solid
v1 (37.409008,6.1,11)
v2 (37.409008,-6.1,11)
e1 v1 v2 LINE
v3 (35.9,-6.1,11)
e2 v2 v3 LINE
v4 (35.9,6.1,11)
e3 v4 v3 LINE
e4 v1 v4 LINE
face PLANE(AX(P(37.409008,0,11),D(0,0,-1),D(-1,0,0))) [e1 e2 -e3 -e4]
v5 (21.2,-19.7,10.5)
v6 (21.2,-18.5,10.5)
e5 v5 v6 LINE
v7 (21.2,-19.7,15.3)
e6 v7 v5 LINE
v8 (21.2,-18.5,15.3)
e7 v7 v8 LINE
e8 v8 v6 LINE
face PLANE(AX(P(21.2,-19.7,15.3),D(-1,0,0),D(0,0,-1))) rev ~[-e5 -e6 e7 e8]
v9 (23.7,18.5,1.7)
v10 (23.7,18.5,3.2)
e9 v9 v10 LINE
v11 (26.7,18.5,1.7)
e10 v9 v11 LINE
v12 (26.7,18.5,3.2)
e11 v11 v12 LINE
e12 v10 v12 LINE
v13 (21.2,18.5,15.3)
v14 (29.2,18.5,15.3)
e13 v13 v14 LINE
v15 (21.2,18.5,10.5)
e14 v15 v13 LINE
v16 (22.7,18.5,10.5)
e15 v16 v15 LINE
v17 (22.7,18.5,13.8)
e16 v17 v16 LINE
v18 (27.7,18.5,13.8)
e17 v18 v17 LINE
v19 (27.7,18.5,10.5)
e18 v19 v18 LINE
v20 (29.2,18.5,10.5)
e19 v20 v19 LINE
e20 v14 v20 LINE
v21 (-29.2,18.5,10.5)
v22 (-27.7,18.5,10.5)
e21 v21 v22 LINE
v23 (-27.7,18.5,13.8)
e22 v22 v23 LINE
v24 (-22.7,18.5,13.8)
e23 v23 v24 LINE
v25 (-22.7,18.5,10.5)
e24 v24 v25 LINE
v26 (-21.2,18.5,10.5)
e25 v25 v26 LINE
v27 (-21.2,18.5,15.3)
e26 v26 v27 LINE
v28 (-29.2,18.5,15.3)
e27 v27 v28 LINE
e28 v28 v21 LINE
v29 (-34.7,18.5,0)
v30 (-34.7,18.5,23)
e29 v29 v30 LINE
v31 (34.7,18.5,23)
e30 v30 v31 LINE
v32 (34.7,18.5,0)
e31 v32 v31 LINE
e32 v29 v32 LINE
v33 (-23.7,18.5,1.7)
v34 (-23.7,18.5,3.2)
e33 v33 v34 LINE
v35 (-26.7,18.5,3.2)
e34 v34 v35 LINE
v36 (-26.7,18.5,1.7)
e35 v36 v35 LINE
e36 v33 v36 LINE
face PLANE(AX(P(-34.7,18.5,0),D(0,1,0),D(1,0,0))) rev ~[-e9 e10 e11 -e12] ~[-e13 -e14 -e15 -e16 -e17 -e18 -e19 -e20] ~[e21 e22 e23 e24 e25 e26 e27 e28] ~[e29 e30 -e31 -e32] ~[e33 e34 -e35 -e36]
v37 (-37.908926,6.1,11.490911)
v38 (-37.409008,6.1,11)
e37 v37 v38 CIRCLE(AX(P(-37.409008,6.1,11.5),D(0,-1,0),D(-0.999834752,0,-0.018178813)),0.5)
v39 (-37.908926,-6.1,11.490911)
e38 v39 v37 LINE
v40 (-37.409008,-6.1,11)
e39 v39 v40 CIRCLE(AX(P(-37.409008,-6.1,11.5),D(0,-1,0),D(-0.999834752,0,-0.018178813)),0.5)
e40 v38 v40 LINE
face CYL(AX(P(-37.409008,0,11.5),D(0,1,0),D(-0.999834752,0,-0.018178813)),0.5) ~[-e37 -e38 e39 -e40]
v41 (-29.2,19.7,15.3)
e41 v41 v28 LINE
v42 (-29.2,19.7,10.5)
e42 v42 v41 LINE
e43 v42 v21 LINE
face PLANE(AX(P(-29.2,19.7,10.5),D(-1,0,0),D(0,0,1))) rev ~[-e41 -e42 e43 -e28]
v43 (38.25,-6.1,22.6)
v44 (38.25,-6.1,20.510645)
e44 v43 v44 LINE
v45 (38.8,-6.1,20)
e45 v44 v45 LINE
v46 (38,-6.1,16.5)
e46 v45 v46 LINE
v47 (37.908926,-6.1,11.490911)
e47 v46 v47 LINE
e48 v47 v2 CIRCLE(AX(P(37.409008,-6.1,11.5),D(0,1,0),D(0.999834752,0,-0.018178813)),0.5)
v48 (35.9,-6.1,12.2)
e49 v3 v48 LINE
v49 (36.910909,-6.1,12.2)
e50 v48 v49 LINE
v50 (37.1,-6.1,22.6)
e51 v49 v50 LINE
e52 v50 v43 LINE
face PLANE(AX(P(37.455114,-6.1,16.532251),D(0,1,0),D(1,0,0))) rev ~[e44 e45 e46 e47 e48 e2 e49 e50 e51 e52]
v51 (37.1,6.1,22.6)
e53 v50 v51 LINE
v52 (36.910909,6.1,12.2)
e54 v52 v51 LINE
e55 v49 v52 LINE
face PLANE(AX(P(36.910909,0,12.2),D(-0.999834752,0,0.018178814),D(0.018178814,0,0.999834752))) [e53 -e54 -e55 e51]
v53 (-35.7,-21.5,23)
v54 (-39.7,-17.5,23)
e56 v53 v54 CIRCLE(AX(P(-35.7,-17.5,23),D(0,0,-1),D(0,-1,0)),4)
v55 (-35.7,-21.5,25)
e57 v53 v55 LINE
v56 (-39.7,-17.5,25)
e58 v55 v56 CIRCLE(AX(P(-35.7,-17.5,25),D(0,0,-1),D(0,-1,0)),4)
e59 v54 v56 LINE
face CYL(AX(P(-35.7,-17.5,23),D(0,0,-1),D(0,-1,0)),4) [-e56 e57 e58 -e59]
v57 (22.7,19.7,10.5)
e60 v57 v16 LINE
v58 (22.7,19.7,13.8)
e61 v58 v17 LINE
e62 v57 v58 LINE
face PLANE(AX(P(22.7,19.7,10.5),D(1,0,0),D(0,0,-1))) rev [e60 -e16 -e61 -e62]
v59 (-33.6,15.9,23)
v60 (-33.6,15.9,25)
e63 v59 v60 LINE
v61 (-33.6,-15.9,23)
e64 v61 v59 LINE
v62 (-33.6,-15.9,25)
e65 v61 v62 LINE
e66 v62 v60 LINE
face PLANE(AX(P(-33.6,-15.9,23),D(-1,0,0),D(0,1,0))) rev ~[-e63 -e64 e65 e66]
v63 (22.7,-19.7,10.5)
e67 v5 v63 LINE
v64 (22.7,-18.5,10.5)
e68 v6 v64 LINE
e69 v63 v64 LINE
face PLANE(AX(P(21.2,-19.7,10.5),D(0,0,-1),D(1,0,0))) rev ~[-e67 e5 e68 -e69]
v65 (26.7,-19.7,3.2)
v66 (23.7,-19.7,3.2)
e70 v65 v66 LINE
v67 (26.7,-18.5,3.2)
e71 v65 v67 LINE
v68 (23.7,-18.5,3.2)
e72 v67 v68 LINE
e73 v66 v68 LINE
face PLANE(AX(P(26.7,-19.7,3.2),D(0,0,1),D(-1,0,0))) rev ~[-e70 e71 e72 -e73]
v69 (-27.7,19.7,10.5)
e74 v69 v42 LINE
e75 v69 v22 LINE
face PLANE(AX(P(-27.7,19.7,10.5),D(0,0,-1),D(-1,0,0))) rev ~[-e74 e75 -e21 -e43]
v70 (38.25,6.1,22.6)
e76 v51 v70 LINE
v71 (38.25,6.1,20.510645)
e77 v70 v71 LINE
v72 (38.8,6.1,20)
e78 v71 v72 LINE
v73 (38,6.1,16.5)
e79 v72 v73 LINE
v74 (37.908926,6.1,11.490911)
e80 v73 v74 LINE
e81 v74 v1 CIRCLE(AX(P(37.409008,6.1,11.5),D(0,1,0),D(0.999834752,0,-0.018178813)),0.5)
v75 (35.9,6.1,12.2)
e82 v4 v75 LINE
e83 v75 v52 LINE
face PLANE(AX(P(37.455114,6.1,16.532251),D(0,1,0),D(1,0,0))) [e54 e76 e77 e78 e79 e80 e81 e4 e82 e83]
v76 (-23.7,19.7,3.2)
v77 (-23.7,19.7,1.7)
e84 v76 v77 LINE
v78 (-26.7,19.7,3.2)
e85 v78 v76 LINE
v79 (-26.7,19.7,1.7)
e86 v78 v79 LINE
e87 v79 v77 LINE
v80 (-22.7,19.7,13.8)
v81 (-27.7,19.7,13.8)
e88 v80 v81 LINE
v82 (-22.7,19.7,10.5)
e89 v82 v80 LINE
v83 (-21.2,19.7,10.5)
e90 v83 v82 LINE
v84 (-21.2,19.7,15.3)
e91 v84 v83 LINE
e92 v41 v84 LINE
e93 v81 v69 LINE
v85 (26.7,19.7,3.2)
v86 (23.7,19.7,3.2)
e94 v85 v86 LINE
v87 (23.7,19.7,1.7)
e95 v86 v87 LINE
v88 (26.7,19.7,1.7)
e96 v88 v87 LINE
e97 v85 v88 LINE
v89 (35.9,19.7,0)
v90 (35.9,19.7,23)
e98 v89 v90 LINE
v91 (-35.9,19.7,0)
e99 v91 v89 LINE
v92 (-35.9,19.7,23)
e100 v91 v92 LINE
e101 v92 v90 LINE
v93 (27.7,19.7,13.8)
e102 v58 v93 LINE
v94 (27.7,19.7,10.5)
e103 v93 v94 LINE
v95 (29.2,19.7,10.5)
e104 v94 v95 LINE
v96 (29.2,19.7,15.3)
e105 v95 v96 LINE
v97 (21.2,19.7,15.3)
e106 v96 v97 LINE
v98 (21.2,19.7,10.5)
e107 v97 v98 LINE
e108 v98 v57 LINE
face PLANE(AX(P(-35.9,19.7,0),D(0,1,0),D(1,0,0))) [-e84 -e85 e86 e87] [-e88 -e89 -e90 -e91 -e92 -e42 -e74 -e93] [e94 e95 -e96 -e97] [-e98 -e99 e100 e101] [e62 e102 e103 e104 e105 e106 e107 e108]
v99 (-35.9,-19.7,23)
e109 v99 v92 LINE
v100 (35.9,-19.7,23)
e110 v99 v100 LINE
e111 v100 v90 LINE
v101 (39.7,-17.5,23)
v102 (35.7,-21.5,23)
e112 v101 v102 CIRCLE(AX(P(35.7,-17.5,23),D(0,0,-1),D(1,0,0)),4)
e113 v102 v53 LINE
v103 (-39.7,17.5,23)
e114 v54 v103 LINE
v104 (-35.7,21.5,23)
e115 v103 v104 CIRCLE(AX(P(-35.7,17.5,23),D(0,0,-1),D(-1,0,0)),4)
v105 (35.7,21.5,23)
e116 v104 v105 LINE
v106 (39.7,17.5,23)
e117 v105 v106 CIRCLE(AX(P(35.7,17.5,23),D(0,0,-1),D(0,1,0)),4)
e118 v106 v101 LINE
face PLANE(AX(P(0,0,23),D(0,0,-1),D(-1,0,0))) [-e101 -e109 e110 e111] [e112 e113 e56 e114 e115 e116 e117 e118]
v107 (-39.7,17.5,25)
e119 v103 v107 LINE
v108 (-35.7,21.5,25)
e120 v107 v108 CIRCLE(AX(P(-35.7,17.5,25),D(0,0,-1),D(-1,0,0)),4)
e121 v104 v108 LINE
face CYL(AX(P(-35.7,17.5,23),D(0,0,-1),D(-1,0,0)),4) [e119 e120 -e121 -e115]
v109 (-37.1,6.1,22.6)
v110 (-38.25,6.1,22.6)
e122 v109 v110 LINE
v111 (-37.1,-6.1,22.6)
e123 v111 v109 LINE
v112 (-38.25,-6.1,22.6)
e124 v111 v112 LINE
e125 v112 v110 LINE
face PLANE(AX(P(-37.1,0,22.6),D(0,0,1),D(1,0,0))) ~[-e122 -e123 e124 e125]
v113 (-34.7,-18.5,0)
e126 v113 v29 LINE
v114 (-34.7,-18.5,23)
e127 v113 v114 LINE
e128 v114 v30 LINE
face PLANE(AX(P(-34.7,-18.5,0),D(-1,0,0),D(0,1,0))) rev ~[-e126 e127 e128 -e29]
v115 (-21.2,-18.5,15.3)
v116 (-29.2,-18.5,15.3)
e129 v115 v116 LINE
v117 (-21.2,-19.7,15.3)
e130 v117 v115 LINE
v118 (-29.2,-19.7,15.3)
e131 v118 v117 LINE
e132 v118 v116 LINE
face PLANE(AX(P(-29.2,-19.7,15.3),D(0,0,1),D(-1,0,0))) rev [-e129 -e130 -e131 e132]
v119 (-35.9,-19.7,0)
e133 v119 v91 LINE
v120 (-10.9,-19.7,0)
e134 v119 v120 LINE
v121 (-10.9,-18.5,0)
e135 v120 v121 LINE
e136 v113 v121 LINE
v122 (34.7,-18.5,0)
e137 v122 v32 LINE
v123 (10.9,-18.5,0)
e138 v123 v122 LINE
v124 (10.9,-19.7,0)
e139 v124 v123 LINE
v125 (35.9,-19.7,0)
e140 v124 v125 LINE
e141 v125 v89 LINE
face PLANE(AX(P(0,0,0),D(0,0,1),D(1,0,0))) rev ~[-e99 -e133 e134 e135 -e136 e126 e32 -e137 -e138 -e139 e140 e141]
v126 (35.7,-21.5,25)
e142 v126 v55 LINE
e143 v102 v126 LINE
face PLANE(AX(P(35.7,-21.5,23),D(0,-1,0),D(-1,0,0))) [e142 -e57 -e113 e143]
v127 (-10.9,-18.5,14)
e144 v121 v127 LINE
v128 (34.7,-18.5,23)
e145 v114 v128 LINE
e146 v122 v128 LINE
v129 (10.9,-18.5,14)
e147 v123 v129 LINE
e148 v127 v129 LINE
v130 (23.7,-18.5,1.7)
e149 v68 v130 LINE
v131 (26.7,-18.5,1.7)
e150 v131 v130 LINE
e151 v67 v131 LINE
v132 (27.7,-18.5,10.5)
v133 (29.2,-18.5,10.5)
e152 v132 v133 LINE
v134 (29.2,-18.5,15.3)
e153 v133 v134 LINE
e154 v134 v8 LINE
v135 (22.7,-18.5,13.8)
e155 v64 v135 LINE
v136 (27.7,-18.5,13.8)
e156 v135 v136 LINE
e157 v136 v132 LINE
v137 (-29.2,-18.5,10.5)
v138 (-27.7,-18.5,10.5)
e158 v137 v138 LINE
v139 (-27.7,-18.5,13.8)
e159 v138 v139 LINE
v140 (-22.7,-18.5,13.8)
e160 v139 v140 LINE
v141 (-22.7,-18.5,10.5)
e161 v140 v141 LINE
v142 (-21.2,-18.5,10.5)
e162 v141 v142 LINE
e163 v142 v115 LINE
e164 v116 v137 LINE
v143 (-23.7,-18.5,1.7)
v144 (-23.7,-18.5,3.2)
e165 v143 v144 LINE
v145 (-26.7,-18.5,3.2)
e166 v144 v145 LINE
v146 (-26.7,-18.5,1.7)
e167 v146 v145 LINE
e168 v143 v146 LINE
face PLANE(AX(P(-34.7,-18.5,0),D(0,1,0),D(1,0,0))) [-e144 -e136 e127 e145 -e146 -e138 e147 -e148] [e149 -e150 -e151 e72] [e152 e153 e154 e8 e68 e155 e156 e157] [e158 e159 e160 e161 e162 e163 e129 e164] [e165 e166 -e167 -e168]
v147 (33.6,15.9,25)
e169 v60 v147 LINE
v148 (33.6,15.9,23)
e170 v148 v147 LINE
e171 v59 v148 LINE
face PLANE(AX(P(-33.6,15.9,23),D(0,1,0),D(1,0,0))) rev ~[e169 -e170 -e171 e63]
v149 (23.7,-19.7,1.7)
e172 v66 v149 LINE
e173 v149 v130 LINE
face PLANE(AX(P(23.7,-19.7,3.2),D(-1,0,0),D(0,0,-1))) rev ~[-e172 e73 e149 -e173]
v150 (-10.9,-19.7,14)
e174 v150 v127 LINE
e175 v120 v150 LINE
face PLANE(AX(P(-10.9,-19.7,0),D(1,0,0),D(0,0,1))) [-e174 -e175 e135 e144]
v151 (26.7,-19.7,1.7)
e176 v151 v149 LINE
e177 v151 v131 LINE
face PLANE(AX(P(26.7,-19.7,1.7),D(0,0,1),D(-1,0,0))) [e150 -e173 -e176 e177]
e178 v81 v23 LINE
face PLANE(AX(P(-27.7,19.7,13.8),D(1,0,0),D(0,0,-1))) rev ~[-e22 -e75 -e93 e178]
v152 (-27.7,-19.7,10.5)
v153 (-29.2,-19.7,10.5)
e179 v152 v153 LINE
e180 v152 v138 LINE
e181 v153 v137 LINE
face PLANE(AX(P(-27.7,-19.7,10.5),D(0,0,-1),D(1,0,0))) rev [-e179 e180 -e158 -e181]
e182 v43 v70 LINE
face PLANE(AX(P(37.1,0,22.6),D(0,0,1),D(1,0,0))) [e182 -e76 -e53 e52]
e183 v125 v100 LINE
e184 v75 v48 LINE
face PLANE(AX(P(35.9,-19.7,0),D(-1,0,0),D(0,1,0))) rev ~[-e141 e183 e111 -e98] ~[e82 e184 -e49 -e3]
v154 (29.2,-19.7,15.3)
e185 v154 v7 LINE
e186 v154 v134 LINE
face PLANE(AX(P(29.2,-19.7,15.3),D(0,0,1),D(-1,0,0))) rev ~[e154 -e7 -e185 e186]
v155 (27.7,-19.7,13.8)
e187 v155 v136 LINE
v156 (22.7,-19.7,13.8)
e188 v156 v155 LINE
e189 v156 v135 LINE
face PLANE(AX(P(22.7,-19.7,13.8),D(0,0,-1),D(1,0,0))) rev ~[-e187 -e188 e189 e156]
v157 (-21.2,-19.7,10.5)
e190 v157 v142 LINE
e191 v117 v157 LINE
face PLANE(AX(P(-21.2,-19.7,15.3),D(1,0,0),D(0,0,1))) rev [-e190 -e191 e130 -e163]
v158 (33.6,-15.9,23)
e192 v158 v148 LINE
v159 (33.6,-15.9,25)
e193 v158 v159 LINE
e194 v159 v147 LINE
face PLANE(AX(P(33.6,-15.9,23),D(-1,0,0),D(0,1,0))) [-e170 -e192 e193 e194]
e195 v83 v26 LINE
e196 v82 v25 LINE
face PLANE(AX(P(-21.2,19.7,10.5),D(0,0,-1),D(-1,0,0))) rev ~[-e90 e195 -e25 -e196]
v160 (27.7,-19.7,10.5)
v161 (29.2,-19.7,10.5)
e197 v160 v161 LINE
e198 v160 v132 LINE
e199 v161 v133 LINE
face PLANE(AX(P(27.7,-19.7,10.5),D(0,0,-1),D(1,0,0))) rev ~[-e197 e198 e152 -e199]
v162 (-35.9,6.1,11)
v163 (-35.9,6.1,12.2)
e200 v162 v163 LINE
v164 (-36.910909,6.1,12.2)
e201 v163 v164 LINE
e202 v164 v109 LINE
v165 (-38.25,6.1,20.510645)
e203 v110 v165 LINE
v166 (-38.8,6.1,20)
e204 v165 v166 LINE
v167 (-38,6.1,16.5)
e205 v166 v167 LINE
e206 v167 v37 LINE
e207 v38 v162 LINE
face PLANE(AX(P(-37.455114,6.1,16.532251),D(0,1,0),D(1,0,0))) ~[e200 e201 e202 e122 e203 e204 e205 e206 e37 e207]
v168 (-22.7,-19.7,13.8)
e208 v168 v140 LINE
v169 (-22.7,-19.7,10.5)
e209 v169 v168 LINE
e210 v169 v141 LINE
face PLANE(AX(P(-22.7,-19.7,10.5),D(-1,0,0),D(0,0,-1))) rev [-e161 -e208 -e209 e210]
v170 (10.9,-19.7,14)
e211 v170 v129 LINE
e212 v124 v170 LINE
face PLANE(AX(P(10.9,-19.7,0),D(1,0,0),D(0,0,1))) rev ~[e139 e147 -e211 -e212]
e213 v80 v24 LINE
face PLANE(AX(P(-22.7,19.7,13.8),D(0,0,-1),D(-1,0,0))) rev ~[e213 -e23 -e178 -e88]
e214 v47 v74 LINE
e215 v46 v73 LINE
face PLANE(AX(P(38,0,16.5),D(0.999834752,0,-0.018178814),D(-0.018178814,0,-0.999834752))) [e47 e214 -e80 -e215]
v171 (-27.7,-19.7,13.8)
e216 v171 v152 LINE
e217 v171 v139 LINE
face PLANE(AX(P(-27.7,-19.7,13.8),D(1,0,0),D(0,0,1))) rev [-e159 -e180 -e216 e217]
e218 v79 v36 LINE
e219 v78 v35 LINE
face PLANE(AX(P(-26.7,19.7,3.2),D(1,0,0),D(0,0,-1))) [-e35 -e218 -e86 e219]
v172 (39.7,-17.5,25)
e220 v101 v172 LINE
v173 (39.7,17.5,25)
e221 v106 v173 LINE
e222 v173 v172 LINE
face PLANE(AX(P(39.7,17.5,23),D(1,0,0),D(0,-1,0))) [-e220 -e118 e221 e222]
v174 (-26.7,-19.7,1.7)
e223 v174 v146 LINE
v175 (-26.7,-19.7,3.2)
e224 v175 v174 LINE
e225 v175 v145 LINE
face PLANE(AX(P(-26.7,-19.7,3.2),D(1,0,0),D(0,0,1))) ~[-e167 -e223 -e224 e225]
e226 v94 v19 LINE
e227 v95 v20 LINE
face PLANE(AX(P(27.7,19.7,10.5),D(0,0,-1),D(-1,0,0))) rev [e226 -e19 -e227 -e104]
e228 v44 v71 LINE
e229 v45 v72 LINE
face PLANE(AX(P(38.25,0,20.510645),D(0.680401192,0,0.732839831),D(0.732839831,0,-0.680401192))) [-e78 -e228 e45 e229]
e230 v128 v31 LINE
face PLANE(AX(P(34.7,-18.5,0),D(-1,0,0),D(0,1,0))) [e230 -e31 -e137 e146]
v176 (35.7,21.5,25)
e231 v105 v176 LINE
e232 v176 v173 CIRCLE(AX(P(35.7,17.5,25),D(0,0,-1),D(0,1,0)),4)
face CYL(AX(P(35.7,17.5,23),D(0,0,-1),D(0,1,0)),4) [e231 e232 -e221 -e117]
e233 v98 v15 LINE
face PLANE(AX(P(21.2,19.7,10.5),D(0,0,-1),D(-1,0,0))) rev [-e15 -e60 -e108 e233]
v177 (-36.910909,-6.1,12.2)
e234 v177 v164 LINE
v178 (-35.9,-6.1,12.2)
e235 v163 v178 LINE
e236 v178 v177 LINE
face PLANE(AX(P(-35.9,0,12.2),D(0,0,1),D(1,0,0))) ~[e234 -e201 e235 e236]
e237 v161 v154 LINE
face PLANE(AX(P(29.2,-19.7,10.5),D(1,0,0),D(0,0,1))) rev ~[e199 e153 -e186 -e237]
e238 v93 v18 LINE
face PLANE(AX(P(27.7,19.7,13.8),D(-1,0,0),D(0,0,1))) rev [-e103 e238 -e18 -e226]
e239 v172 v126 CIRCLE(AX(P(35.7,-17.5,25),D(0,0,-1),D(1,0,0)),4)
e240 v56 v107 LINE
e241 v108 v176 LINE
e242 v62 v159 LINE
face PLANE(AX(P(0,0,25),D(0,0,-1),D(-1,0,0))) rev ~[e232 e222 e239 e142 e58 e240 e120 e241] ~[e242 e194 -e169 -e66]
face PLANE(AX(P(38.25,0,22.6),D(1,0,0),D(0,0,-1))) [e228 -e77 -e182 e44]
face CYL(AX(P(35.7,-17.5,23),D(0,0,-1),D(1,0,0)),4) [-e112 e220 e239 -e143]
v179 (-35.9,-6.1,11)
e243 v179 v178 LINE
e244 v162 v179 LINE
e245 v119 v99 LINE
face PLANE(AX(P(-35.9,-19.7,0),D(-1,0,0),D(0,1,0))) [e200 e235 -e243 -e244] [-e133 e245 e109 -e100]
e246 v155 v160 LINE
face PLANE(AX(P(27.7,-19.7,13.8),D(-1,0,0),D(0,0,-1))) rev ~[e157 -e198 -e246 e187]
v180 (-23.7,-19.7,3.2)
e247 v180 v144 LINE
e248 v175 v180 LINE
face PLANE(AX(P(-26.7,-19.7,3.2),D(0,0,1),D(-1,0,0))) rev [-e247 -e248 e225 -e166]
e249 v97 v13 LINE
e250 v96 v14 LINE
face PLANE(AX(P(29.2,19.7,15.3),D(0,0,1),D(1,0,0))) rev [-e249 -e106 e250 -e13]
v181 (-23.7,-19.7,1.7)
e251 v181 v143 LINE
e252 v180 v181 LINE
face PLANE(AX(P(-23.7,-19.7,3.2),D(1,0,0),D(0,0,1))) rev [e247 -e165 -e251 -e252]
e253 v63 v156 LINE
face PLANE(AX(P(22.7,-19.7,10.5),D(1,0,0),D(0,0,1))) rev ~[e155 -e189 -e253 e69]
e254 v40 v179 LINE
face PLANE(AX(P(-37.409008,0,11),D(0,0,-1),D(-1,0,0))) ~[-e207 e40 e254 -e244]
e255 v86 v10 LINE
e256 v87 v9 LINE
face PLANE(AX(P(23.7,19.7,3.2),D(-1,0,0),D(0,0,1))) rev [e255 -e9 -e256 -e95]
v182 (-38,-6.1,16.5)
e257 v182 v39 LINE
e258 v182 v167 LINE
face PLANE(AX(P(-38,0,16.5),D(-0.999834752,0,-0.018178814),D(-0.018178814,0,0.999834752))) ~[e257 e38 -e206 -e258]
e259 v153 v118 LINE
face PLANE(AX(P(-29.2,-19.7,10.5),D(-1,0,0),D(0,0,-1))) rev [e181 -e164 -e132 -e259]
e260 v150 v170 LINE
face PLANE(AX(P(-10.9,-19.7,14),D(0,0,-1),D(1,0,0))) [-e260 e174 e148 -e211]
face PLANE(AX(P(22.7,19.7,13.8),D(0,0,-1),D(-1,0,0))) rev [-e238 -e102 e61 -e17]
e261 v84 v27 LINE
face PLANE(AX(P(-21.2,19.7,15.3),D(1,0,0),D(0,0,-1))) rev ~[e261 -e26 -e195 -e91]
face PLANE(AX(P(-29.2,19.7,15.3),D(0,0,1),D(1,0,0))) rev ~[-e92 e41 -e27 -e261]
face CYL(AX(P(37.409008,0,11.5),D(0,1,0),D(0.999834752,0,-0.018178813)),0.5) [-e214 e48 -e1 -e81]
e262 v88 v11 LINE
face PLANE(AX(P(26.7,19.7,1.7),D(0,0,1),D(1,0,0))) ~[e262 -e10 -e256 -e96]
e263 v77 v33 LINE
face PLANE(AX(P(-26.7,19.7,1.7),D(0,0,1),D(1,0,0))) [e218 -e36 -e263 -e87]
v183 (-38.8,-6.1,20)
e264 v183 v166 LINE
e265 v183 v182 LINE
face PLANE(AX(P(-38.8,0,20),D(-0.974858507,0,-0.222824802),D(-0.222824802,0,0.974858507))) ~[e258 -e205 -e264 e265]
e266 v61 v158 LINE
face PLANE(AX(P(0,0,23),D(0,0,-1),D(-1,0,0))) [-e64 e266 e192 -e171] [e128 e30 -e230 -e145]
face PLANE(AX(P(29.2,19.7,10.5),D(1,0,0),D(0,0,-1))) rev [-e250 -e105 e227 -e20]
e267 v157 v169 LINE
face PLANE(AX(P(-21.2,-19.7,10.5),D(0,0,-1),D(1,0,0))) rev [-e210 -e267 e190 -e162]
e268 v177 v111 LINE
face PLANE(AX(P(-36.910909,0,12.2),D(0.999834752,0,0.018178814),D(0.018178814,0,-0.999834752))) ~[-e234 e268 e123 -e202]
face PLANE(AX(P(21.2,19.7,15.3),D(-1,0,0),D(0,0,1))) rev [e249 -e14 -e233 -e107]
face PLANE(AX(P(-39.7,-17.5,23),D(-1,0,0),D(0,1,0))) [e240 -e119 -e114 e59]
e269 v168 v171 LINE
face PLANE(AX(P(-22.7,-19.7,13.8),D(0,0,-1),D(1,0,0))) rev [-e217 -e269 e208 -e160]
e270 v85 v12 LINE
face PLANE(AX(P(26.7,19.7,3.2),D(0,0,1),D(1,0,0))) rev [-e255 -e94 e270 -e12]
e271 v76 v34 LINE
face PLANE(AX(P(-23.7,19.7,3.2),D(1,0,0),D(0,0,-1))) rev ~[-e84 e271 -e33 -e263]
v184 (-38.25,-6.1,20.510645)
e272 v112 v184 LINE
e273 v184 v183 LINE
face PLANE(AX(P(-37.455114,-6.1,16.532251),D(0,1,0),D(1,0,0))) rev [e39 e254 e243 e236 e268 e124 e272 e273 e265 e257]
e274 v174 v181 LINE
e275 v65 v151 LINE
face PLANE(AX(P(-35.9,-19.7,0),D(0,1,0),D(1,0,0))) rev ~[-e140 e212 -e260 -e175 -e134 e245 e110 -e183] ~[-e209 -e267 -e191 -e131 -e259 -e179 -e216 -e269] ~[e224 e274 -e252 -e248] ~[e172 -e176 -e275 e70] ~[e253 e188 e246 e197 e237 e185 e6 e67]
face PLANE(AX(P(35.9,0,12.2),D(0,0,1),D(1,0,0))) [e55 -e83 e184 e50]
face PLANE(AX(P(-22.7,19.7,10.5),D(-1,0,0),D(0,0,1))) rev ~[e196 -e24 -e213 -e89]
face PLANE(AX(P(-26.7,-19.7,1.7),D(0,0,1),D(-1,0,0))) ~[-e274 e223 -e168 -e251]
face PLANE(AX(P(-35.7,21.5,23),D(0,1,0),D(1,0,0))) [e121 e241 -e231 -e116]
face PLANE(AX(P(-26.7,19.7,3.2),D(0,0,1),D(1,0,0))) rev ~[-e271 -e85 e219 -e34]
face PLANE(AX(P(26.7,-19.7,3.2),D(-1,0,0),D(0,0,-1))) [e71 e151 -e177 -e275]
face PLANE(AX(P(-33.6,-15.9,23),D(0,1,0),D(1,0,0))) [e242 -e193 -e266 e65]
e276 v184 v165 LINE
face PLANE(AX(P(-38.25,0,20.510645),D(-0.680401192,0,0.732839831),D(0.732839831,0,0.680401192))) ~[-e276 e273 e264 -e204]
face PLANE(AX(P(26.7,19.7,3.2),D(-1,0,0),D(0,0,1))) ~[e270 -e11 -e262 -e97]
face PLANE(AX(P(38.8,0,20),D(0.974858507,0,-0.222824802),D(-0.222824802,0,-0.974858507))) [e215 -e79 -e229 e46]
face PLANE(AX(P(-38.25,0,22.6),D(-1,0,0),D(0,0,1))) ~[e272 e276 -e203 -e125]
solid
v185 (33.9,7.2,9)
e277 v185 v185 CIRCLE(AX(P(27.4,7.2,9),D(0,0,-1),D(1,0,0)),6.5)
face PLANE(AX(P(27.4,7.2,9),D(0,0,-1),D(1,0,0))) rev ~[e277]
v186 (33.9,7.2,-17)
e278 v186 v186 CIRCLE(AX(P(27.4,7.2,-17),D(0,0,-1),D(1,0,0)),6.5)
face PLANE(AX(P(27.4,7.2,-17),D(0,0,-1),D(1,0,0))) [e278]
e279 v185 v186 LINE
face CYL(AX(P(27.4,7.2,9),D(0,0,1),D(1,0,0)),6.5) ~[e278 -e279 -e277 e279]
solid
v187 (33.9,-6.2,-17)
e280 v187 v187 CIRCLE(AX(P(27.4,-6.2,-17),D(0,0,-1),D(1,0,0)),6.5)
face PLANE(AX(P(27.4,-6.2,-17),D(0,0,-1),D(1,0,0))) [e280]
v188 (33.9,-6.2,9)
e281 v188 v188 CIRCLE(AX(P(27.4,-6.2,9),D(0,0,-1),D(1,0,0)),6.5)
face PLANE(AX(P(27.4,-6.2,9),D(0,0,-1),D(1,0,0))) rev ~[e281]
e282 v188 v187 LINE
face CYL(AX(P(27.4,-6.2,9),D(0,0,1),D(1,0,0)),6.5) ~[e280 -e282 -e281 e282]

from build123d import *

# Parameters (mm, degrees)
SKETCH_1_W               = 71.8
SKETCH_1_H               = 39.4
SKETCH_1_W_2             = 69.4
SKETCH_1_H_2             = 37
EXTRUDE_1_DEPTH          = 23
SKETCH_2_W               = 67.2
SKETCH_2_H               = 31.8
EXTRUDE_2_DEPTH          = 2
EXTRUDE_3_DEPTH          = 6.1
CUT_EXTRUDE_1_REACH      = 64.438
SKETCH_4_W               = 21.8
SKETCH_4_H               = 14
CUT_EXTRUDE_2_REACH      = 64.438
SKETCH_5_W               = 3
SKETCH_5_H               = 1.5
MIRROR_3_COPY_1_REACH    = 64.438
MIRROR_3_COPY_1_SKETCH_W = 3
MIRROR_3_COPY_1_SKETCH_H = 1.5
SKETCH_6_R               = 6.5
EXTRUDE_4_DEPTH          = 26
EXTRUDE_4_2_DEPTH        = 26


with BuildPart() as part:
    # Эскиз1 → Бобышка-Вытянуть1 (new body)
    with BuildSketch(Plane.XY):
        Rectangle(SKETCH_1_W, SKETCH_1_H)
        Rectangle(SKETCH_1_W_2, SKETCH_1_H_2, mode=Mode.SUBTRACT)
    extrude(amount=EXTRUDE_1_DEPTH)

    # Эскиз2 → Бобышка-Вытянуть2 (add)
    with BuildSketch(Plane.XY.offset(23)):
        with BuildLine():
            Line((-35.7, 21.5), (35.7, 21.5))
            ThreePointArc((35.7, 21.5), (38.528427125, 20.328427125), (39.7, 17.5))
            Line((39.7, 17.5), (39.7, -17.5))
            ThreePointArc((39.7, -17.5), (38.528427125, -20.328427125), (35.7, -21.5))
            Line((35.7, -21.5), (-35.7, -21.5))
            ThreePointArc((-35.7, -21.5), (-38.528427125, -20.328427125), (-39.7, -17.5))
            Line((-39.7, -17.5), (-39.7, 17.5))
            ThreePointArc((-39.7, 17.5), (-38.528427125, 20.328427125), (-35.7, 21.5))
        make_face()
        Rectangle(SKETCH_2_W, SKETCH_2_H, mode=Mode.SUBTRACT)
    extrude(amount=EXTRUDE_2_DEPTH)

    # Эскиз3 → Бобышка-Вытянуть3 (add, symmetric)
    with BuildSketch(Plane(origin=(0, 0, 0), x_dir=(1, 0, 0), z_dir=(0, 1, 0))):
        with BuildLine():
            Line((35.9, -12.2), (36.910909091, -12.2))
            Line((36.910909091, -12.2), (37.1, -22.6))
            Line((37.1, -22.6), (38.25, -22.6))
            Line((38.25, -22.6), (38.25, -20.510644536))
            Line((38.25, -20.510644536), (38.8, -20))
            Line((38.8, -20), (38, -16.5))
            Line((38, -16.5), (37.908925647, -11.490910593))
            ThreePointArc((37.908925647, -11.490910593), (37.759333332, -11.143247492), (37.409008271, -11))
            Line((37.409008271, -11), (35.9, -11))
            Line((35.9, -11), (35.9, -12.2))
        make_face()
    extrude_3 = extrude(amount=EXTRUDE_3_DEPTH, both=True)

    # Зеркальное отражение1: Бобышка-Вытянуть3 across plane
    add(extrude_3.mirror(Plane(origin=(0, 0, 0), x_dir=(0, 0, 1), z_dir=(1, 0, 0))))

    # Эскиз4 → Вырез-Вытянуть1 (cut, up to next)
    with BuildSketch(Plane.XZ.offset(19.7), mode=Mode.PRIVATE) as cut_extrude_1_sk1:
        with Locations((0, 7)):
            Rectangle(SKETCH_4_W, SKETCH_4_H)
    cut_extrude_1_tool1 = extrude(cut_extrude_1_sk1.sketch, amount=-CUT_EXTRUDE_1_REACH, mode=Mode.PRIVATE) & part.part
    add(cut_extrude_1_tool1.solids().sort_by_distance((0, -19.7, 7))[0], mode=Mode.SUBTRACT)

    # Эскиз5 → Вырез-Вытянуть2 (cut, up to next)
    with BuildSketch(Plane(origin=(0, 19.7, 0), x_dir=(1, 0, 0), z_dir=(0, 1, 0)), mode=Mode.PRIVATE) as cut_extrude_2_sk1:
        Polygon((-29.2, -10.5), (-29.2, -15.3), (-21.2, -15.3), (-21.2, -10.5), (-22.7, -10.5), (-22.7, -13.8), (-27.7, -13.8), (-27.7, -10.5), align=None)
    cut_extrude_2_tool1 = extrude(cut_extrude_2_sk1.sketch, amount=-CUT_EXTRUDE_2_REACH, mode=Mode.PRIVATE) & part.part
    # Эскиз5 → Вырез-Вытянуть2 (cut, up to next)
    with BuildSketch(Plane(origin=(0, 19.7, 0), x_dir=(1, 0, 0), z_dir=(0, 1, 0)), mode=Mode.PRIVATE) as cut_extrude_2_sk2:
        with Locations((-25.2, -2.45)):
            Rectangle(SKETCH_5_W, SKETCH_5_H)
    cut_extrude_2_tool2 = extrude(cut_extrude_2_sk2.sketch, amount=-CUT_EXTRUDE_2_REACH, mode=Mode.PRIVATE) & part.part
    cut_extrude_2_1 = cut_extrude_2_tool1.solids().sort_by_distance((-29.106705, 19.7, 12.9))[0]
    add(cut_extrude_2_1, mode=Mode.SUBTRACT)
    cut_extrude_2_2 = cut_extrude_2_tool2.solids().sort_by_distance((-25.2, 19.7, 2.45))[0]
    add(cut_extrude_2_2, mode=Mode.SUBTRACT)
    cut_extrude_2 = cut_extrude_2_1 + cut_extrude_2_2  # Вырез-Вытянуть2 as one shape, for the pattern or mirror that repeats it

    # Зеркальное отражение2: Вырез-Вытянуть2 across plane
    add(cut_extrude_2.mirror(Plane(origin=(0, 0, 0), x_dir=(0, 0, 1), z_dir=(1, 0, 0))), mode=Mode.SUBTRACT)

    # Зеркальное отражение3: Вырез-Вытянуть2 across plane
    add(cut_extrude_2.mirror(Plane.ZX), mode=Mode.SUBTRACT)

    # Зеркальное отражение3 copy 1 sketch → Зеркальное отражение3 copy 1 (cut, up to next)
    with BuildSketch(Plane(origin=(0, -19.7, 0), x_dir=(-1, 0, 0), z_dir=(0, -1, 0)), mode=Mode.PRIVATE) as mirror_3_copy_1_sk1:
        Polygon((-29.2, -10.5), (-29.2, -15.3), (-21.2, -15.3), (-21.2, -10.5), (-22.7, -10.5), (-22.7, -13.8), (-27.7, -13.8), (-27.7, -10.5), align=None)
    mirror_3_copy_1_tool1 = extrude(mirror_3_copy_1_sk1.sketch, amount=-MIRROR_3_COPY_1_REACH, mode=Mode.PRIVATE) & part.part
    # Зеркальное отражение3 copy 1 sketch → Зеркальное отражение3 copy 1 (cut, up to next)
    with BuildSketch(Plane(origin=(0, -19.7, 0), x_dir=(-1, 0, 0), z_dir=(0, -1, 0)), mode=Mode.PRIVATE) as mirror_3_copy_1_sk2:
        with Locations((-25.2, -2.45)):
            Rectangle(MIRROR_3_COPY_1_SKETCH_W, MIRROR_3_COPY_1_SKETCH_H)
    mirror_3_copy_1_tool2 = extrude(mirror_3_copy_1_sk2.sketch, amount=-MIRROR_3_COPY_1_REACH, mode=Mode.PRIVATE) & part.part
    add(mirror_3_copy_1_tool1.solids().sort_by_distance((29.106705, -19.7, 12.9))[0], mode=Mode.SUBTRACT)
    add(mirror_3_copy_1_tool2.solids().sort_by_distance((25.2, -19.7, 2.45))[0], mode=Mode.SUBTRACT)


with BuildPart() as body_2:
    # Эскиз6 → Бобышка-Вытянуть4 (new body)
    with BuildSketch(Plane(origin=(0, 0, 9), x_dir=(-1, 0, 0), z_dir=(0, 0, -1))):
        with Locations(Location((-27.4, 7.2, 0), (0, 0, 180))):
            Circle(SKETCH_6_R)
    extrude(amount=EXTRUDE_4_DEPTH)


with BuildPart() as body_3:
    # Эскиз6 → Extrude 4 2 (new body)
    with BuildSketch(Plane(origin=(0, 0, 9), x_dir=(-1, 0, 0), z_dir=(0, 0, -1))):
        with Locations(Location((-27.4, -6.2, 0), (0, 0, 180))):
            Circle(SKETCH_6_R)
    extrude(amount=EXTRUDE_4_2_DEPTH)


solid = Compound([part.part, body_2.part, body_3.part])
